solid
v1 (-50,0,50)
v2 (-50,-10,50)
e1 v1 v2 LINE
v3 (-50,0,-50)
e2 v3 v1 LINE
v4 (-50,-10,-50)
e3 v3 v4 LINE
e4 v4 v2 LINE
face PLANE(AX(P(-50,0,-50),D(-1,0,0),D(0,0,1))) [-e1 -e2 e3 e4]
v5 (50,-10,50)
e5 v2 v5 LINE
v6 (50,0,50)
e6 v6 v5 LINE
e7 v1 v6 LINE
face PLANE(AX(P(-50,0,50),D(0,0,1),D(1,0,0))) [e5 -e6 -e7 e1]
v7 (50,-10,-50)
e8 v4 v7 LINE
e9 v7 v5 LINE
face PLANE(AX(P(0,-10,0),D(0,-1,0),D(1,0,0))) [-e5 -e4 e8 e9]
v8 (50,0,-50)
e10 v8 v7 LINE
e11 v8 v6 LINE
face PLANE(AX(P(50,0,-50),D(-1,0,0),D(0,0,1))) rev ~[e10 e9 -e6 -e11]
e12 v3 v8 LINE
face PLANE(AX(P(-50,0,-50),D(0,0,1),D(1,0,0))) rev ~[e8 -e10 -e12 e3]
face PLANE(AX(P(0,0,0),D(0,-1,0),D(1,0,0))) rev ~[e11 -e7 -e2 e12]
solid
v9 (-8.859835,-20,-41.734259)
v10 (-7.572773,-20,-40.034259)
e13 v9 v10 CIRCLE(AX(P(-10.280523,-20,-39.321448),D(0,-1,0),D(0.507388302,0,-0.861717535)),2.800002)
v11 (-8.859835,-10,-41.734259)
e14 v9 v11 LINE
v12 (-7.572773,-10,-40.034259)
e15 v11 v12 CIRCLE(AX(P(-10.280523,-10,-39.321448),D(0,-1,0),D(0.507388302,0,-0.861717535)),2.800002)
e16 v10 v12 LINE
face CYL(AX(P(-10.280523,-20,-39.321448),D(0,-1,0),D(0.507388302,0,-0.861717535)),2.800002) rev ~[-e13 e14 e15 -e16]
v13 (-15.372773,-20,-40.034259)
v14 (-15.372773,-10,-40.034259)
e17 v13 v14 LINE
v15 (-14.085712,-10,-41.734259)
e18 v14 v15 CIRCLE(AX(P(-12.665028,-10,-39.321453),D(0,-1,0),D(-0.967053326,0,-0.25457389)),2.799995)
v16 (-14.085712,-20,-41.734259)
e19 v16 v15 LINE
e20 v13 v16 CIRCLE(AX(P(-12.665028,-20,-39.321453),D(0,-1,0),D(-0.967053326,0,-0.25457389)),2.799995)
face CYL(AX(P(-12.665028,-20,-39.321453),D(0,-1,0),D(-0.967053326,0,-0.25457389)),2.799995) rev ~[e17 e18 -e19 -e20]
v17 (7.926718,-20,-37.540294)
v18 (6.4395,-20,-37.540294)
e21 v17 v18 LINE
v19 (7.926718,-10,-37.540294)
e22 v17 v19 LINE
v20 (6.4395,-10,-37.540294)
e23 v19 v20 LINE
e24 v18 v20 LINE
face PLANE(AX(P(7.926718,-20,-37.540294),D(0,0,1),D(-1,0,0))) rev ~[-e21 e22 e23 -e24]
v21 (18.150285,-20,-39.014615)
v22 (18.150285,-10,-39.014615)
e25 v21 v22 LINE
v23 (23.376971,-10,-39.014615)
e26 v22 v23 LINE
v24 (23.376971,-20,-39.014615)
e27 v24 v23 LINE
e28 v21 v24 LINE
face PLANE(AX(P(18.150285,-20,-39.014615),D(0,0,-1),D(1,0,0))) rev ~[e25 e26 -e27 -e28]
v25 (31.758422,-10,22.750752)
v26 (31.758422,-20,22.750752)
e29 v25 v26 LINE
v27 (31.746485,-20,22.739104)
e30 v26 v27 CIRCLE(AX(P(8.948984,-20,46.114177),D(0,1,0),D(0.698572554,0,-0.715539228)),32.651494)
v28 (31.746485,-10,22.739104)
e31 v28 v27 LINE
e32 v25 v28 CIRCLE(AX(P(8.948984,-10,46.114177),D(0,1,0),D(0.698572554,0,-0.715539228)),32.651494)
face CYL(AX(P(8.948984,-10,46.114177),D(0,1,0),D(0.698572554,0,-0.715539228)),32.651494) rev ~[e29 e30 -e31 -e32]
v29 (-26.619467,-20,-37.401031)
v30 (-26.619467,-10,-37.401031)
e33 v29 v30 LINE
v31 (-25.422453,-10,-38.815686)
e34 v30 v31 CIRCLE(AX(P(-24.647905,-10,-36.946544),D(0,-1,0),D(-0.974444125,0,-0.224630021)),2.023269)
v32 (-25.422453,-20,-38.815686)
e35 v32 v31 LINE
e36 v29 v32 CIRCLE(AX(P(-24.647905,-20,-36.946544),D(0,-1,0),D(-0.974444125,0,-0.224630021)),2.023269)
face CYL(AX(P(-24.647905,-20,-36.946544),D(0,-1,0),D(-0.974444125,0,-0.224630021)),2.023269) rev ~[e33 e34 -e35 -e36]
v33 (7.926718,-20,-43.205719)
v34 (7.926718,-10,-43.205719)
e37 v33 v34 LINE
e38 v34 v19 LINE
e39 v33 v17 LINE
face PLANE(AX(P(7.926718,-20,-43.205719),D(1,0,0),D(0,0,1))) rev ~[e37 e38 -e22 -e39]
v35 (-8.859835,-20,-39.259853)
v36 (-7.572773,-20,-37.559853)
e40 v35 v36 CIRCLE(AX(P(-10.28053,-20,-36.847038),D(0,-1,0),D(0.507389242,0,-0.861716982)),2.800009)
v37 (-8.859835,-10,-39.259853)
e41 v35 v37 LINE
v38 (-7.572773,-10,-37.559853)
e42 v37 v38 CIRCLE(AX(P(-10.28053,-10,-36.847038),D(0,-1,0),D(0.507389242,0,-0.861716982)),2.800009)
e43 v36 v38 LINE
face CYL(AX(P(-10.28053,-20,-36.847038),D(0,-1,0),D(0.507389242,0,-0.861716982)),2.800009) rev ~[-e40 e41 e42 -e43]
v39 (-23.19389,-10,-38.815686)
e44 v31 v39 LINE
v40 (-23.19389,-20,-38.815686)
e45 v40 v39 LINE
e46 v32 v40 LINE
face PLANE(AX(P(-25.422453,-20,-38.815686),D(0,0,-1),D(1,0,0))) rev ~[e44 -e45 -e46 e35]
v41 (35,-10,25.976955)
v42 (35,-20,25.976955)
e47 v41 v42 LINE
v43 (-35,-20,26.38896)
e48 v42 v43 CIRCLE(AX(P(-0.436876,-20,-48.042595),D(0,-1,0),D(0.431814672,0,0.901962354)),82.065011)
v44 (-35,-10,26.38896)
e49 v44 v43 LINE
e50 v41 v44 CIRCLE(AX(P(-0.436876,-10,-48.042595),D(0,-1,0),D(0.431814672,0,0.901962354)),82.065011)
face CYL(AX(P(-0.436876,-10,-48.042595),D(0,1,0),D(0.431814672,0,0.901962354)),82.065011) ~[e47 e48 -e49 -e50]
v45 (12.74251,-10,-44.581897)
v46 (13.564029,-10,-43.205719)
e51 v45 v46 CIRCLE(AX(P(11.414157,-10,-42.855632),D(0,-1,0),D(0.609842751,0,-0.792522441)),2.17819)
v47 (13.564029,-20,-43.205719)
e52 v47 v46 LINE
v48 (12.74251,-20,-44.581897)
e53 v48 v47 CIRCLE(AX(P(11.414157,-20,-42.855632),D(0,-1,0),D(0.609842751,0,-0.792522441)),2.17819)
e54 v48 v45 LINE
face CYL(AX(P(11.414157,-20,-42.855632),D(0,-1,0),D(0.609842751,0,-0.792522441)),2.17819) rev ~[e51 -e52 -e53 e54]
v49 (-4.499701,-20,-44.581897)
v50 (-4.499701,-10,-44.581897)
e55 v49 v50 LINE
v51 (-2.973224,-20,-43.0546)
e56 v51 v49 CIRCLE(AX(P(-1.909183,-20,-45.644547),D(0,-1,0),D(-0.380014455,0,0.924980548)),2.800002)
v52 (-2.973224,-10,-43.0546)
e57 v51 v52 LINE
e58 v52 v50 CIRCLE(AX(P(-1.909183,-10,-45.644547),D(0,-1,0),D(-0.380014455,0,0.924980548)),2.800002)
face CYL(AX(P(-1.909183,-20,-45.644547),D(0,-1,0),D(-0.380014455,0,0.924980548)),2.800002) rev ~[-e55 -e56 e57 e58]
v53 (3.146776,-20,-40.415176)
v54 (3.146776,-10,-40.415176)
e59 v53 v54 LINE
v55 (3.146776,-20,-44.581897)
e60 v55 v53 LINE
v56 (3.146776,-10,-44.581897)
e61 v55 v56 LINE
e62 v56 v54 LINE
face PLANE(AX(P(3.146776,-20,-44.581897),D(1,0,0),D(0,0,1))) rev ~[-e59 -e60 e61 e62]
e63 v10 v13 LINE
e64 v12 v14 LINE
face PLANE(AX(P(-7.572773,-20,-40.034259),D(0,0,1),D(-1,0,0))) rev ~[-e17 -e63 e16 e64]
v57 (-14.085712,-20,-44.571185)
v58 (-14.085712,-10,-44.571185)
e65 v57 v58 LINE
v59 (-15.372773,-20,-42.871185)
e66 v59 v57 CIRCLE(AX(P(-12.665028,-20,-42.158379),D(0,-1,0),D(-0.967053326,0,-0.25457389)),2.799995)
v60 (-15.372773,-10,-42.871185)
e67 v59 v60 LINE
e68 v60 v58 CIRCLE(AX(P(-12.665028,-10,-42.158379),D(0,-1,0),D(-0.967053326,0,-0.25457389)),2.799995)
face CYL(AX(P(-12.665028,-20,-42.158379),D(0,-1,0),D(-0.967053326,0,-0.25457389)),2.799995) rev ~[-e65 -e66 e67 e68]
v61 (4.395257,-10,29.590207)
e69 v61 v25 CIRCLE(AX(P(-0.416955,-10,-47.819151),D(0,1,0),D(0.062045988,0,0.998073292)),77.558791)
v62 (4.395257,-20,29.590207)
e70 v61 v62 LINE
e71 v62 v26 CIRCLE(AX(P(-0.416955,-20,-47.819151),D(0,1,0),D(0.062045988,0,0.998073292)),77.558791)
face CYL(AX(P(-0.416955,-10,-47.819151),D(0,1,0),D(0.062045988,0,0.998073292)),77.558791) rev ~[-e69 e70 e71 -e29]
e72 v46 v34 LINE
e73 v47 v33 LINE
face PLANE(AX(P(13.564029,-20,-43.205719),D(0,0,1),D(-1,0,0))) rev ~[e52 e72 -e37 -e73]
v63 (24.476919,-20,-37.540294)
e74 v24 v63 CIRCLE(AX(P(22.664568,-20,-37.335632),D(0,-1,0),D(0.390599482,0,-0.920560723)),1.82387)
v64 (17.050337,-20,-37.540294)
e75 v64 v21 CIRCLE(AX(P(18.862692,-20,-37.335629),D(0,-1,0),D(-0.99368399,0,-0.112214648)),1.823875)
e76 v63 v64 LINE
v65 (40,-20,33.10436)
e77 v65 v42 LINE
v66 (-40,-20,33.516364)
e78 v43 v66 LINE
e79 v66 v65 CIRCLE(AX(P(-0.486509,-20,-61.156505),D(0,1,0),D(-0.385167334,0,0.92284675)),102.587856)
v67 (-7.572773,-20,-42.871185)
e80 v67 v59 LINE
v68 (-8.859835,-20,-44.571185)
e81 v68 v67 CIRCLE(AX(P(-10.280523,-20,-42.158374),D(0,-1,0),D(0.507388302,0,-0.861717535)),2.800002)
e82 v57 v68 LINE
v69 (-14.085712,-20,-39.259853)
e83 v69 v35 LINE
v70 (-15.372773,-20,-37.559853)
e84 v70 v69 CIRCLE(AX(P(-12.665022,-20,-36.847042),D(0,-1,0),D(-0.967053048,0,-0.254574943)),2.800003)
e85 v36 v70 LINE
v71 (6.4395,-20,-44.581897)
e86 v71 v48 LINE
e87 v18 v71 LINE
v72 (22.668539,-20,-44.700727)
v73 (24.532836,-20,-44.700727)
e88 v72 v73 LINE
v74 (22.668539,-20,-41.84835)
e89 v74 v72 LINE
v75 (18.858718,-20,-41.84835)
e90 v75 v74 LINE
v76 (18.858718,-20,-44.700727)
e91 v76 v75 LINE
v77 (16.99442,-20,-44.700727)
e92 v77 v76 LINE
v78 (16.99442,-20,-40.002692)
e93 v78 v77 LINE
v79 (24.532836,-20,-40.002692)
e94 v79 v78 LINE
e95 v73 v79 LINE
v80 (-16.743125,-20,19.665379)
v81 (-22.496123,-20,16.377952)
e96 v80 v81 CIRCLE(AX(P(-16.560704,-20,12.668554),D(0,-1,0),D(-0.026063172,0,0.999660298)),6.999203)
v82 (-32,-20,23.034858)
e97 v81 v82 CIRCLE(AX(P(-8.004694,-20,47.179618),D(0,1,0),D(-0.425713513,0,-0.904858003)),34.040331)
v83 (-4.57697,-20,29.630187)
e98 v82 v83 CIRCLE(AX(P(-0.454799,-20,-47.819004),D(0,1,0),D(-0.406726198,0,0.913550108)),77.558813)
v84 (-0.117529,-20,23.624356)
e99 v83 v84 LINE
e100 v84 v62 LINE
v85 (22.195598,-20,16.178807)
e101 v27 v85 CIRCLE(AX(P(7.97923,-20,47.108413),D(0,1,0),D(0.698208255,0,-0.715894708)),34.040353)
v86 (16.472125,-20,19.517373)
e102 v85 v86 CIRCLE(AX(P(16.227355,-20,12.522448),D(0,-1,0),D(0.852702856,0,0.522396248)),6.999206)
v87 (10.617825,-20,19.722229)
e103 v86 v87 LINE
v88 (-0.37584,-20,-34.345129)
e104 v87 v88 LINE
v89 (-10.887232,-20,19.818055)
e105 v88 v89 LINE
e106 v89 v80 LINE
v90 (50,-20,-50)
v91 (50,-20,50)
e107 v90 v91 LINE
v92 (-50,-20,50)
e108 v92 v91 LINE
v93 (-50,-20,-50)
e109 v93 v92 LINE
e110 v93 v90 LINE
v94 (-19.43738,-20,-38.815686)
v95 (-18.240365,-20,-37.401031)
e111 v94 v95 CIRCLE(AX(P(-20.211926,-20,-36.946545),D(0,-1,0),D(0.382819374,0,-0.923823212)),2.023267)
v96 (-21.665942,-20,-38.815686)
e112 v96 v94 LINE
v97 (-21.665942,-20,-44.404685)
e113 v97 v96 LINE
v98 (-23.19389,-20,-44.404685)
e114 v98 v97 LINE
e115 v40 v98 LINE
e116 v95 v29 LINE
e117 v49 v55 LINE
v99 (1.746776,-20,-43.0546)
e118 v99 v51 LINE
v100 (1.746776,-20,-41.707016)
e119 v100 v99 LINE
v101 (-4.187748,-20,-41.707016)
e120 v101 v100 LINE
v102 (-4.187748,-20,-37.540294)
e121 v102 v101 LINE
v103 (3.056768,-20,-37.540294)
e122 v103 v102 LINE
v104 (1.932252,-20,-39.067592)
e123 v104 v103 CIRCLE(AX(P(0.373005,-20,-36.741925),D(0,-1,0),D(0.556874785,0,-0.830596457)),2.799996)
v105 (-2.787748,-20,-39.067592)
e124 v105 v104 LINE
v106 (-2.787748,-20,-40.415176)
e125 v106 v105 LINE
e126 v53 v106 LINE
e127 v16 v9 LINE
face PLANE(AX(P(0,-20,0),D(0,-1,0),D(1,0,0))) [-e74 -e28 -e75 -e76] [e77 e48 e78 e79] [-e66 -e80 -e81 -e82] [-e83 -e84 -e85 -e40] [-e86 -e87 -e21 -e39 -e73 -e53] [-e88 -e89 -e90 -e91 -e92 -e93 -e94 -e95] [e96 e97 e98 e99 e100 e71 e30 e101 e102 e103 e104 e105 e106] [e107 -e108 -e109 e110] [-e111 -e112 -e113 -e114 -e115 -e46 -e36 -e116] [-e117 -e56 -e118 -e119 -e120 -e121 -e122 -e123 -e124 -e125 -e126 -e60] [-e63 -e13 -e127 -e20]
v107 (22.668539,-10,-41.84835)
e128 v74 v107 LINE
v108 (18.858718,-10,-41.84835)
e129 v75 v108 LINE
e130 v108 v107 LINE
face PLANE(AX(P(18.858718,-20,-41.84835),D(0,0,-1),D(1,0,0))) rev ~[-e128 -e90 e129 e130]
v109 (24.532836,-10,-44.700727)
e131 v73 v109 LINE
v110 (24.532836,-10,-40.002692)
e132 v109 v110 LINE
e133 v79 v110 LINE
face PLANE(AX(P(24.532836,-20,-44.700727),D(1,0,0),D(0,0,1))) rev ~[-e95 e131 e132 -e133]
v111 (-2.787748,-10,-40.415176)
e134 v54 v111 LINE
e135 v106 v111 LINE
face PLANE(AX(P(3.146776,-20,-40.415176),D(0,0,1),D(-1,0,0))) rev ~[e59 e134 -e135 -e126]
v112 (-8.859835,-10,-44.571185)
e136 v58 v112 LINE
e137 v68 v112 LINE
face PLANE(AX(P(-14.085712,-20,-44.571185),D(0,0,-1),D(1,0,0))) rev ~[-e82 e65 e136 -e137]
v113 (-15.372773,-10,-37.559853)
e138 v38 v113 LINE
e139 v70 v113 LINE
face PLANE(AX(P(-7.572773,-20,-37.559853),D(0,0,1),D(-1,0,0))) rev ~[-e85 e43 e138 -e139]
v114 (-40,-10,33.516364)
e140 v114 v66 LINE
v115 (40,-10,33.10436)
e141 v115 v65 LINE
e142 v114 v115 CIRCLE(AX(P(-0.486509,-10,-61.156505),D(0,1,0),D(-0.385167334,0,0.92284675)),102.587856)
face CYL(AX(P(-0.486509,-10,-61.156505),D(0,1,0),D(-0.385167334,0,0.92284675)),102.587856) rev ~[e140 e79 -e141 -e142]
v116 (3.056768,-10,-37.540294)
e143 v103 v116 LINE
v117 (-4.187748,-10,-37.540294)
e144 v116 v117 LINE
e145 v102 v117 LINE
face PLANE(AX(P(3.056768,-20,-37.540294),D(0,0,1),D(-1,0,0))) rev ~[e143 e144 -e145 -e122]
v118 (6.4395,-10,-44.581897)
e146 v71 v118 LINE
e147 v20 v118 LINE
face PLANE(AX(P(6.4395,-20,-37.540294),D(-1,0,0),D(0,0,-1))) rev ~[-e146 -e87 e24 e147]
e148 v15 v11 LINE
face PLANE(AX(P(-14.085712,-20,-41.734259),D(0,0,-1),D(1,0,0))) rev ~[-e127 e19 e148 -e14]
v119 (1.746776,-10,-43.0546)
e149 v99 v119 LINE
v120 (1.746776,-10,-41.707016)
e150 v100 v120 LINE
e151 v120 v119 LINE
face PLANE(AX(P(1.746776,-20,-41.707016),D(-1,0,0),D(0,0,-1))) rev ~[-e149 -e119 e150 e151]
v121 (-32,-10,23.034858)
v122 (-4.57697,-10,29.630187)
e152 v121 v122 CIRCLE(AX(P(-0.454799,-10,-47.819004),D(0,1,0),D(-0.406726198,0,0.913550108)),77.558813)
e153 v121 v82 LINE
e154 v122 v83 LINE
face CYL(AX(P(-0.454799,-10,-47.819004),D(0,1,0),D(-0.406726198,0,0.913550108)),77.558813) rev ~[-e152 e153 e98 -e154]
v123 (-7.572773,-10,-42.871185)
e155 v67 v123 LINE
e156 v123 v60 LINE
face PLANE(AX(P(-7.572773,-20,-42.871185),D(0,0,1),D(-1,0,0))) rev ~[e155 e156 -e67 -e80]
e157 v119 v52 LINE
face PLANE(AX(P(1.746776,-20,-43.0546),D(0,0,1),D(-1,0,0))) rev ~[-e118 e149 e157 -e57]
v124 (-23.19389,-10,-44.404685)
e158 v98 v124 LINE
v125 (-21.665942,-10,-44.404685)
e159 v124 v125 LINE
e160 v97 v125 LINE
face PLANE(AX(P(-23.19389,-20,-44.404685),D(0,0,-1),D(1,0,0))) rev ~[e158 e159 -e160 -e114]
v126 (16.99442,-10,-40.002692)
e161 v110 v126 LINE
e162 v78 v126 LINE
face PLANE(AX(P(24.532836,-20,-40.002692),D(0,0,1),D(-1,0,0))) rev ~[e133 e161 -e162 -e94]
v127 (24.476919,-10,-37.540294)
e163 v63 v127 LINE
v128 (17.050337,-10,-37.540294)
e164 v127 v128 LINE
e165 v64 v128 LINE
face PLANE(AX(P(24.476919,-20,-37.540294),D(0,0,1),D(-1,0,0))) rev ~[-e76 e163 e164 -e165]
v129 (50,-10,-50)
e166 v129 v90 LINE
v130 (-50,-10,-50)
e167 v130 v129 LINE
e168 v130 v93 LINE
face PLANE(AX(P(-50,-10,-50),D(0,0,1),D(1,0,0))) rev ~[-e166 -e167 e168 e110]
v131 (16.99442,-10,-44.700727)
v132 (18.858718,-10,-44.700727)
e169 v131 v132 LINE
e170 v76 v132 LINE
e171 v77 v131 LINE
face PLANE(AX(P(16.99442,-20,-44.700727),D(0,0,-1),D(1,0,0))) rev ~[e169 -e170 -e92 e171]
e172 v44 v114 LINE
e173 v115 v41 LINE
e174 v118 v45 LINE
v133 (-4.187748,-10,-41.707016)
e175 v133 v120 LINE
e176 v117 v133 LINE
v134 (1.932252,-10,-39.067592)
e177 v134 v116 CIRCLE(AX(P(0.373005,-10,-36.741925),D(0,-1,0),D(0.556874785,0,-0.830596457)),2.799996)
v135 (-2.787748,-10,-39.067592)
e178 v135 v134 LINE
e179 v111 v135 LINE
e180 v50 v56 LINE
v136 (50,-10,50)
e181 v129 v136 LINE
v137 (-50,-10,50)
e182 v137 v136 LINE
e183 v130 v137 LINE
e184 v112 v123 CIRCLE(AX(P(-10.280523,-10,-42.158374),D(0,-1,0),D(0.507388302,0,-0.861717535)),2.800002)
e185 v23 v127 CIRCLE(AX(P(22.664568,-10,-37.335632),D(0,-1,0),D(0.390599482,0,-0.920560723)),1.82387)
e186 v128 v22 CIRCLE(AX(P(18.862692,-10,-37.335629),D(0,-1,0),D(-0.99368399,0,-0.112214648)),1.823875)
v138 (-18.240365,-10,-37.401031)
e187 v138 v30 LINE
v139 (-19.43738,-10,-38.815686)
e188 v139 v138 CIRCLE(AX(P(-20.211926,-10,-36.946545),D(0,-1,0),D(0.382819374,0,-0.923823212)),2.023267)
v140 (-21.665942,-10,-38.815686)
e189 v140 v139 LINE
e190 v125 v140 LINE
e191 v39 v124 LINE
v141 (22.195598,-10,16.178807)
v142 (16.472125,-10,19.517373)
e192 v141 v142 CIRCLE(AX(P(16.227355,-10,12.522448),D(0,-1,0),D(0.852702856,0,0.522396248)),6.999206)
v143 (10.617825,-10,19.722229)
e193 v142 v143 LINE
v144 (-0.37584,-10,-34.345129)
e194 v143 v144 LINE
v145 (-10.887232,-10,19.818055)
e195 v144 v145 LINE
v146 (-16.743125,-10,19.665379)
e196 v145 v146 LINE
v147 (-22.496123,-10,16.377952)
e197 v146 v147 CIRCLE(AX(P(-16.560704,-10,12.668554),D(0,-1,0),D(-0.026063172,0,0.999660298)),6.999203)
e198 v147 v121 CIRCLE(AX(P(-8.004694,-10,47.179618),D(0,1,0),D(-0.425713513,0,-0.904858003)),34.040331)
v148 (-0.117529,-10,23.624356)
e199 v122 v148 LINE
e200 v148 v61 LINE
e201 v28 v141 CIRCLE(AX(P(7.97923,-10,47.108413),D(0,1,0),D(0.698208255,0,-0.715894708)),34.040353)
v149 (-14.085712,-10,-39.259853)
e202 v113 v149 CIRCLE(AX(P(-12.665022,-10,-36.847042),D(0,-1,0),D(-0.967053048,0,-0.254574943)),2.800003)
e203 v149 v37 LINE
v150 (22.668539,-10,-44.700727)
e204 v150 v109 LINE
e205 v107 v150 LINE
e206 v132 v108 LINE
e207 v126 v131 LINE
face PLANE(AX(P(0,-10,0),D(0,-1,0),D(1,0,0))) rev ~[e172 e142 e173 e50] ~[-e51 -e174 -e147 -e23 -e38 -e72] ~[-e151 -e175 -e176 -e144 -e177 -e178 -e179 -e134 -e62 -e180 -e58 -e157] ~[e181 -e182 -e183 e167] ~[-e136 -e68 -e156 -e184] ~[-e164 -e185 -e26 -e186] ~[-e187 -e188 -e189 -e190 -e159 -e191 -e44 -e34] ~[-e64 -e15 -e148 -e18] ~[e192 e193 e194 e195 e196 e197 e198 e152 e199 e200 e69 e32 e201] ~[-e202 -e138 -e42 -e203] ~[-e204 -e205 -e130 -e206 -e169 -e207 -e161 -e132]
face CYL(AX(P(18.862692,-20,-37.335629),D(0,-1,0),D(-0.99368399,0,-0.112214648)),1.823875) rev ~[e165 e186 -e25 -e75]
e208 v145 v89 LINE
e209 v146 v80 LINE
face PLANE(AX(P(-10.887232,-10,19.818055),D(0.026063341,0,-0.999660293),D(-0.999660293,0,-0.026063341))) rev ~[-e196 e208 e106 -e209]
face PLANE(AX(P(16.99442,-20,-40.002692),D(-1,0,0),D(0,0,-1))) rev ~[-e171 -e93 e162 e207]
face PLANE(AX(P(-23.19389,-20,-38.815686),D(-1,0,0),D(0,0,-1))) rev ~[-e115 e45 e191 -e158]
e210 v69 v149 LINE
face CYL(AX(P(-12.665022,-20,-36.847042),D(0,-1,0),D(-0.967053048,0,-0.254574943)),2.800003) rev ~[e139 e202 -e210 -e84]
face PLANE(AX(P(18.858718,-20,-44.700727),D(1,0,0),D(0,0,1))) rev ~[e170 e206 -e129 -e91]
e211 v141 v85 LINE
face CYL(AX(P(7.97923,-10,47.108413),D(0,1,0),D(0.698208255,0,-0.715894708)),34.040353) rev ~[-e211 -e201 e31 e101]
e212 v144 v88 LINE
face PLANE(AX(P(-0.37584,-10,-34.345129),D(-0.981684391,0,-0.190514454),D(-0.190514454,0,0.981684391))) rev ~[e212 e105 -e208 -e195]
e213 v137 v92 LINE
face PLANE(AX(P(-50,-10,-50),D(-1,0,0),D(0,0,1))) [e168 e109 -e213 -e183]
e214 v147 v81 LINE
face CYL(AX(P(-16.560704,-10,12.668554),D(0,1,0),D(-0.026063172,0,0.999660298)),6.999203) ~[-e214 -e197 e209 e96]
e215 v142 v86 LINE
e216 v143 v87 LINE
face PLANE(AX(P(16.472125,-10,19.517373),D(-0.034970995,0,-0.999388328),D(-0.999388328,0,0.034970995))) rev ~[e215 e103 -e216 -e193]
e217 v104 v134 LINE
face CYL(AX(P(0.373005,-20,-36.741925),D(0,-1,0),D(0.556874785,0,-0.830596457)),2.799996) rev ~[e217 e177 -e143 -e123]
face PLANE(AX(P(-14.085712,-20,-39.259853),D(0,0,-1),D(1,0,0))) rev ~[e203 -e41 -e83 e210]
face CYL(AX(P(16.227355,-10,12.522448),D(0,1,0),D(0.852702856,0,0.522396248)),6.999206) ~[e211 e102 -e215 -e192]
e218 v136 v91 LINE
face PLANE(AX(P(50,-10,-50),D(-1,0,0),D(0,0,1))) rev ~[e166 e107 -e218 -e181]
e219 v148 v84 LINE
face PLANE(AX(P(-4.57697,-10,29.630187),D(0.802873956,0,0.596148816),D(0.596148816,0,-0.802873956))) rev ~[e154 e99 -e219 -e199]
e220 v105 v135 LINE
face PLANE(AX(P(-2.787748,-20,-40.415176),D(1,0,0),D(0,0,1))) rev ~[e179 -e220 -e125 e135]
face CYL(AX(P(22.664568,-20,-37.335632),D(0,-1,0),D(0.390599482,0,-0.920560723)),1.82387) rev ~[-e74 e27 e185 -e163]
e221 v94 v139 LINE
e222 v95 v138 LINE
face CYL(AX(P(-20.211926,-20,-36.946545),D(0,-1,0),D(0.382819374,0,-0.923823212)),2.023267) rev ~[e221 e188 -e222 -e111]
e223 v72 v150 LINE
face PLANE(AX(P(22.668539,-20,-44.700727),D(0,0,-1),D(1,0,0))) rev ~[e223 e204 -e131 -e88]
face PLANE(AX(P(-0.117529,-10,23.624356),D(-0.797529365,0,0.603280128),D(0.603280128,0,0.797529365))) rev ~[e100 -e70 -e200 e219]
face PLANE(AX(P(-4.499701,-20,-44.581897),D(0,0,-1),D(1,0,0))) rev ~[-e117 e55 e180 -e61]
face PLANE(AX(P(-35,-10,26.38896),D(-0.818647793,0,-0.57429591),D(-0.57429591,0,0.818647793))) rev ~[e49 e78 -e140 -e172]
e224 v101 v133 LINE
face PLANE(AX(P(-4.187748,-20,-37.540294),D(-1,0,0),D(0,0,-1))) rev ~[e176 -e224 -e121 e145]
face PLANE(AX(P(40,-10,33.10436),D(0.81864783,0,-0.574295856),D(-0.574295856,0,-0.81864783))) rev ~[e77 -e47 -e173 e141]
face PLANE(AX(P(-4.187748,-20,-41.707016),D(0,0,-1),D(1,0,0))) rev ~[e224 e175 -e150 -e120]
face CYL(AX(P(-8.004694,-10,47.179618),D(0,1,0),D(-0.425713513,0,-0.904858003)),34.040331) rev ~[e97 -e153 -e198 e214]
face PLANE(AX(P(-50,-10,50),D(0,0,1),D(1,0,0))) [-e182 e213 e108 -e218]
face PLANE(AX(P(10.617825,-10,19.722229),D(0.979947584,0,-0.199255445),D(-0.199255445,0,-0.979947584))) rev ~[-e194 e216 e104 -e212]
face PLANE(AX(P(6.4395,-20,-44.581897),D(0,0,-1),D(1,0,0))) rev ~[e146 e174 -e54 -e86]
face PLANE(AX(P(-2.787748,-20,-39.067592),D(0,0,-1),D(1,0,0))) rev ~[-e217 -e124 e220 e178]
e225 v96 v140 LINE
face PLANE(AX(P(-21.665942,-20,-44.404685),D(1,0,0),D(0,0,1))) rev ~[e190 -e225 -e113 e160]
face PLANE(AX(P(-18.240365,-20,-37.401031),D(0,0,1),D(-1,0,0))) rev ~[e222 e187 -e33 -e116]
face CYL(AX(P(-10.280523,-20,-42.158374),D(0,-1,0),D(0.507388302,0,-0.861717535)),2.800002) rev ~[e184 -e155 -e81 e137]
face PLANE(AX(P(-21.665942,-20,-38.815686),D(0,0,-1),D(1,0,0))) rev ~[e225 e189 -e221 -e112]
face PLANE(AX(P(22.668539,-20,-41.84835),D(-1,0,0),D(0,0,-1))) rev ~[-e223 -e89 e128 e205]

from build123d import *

# Parameters (mm, degrees)
F0_W     = 100
F0_H     = 100
F1_DEPTH = 10
F2_W     = 100
F2_H     = 100
F3_DEPTH = 10
F5_DEPTH = 10


with BuildPart() as f1:
    # F0 (on Front) → F1 (new body)
    with BuildSketch(Plane.XZ):
        Rectangle(F0_W, F0_H)
    extrude(amount=F1_DEPTH)


with BuildPart() as f3:
    # F2 (on face) → F3 (new body)
    with BuildSketch(Plane.XZ.offset(10)):
        Rectangle(F2_W, F2_H)
        with BuildLine():
            ThreePointArc((-22.496123, 16.377952), (-27.533795, 19.298471), (-32, 23.034858))
            ThreePointArc((-32, 23.034858), (-18.590811, 27.58958), (-4.57697, 29.630187))
            Line((-4.57697, 29.630187), (-0.117529, 23.624356))
            Line((-0.117529, 23.624356), (4.395257, 29.590207))
            ThreePointArc((4.395257, 29.590207), (18.390357, 27.424793), (31.758422, 22.750752))
            ThreePointArc((31.758422, 22.750752), (31.752454, 22.744927), (31.746485, 22.739104))
            ThreePointArc((31.746485, 22.739104), (27.252223, 19.049593), (22.195598, 16.178807))
            ThreePointArc((22.195598, 16.178807), (19.753952, 18.568273), (16.472125, 19.517373))
            Line((16.472125, 19.517373), (10.617825, 19.722229))
            Line((10.617825, 19.722229), (-0.37584, -34.345129))
            Line((-0.37584, -34.345129), (-10.887232, 19.818055))
            Line((-10.887232, 19.818055), (-16.743125, 19.665379))
            ThreePointArc((-16.743125, 19.665379), (-20.03328, 18.745564), (-22.496123, 16.377952))
        make_face(mode=Mode.SUBTRACT)
        with BuildLine():
            ThreePointArc((-40, 33.516364), (0.041817, 41.42999), (40, 33.10436))
            Line((40, 33.10436), (35, 25.976955))
            ThreePointArc((35, 25.976955), (0.046133, 34.020994), (-35, 26.38896))
            Line((-35, 26.38896), (-40, 33.516364))
        make_face(mode=Mode.SUBTRACT)
    extrude(amount=F3_DEPTH)

    # F4 (on face) → F5 (cut)
    with BuildSketch(Plane.XZ.offset(20)):
        with BuildLine():
            Line((-18.240365, -37.401031), (-26.619467, -37.401031))
            ThreePointArc((-26.619467, -37.401031), (-26.192441, -38.253458), (-25.422453, -38.815686))
            Line((-25.422453, -38.815686), (-23.19389, -38.815686))
            Line((-23.19389, -38.815686), (-23.19389, -44.404685))
            Line((-23.19389, -44.404685), (-22.429916, -44.404685))
            Line((-22.429916, -44.404685), (-21.665942, -44.404685))
            Line((-21.665942, -44.404685), (-21.665942, -38.815686))
            Line((-21.665942, -38.815686), (-19.43738, -38.815686))
            ThreePointArc((-19.43738, -38.815686), (-18.667391, -38.253458), (-18.240365, -37.401031))
        make_face()
        with BuildLine():
            Line((-11.472773, -37.559853), (-15.372773, -37.559853))
            ThreePointArc((-15.372773, -37.559853), (-14.897399, -38.537163), (-14.085712, -39.259853))
            Line((-14.085712, -39.259853), (-11.472773, -39.259853))
            Line((-11.472773, -39.259853), (-8.859835, -39.259853))
            ThreePointArc((-8.859835, -39.259853), (-8.048148, -38.537163), (-7.572773, -37.559853))
            Line((-7.572773, -37.559853), (-11.472773, -37.559853))
        make_face()
        with BuildLine():
            Line((-11.472773, -40.034259), (-15.372773, -40.034259))
            ThreePointArc((-15.372773, -40.034259), (-14.897399, -41.01157), (-14.085712, -41.734259))
            Line((-14.085712, -41.734259), (-11.472773, -41.734259))
            Line((-11.472773, -41.734259), (-8.859835, -41.734259))
            ThreePointArc((-8.859835, -41.734259), (-8.048148, -41.01157), (-7.572773, -40.034259))
            Line((-7.572773, -40.034259), (-11.472773, -40.034259))
        make_face()
        with BuildLine():
            Line((-11.472773, -42.871185), (-15.372773, -42.871185))
            ThreePointArc((-15.372773, -42.871185), (-14.897399, -43.848496), (-14.085712, -44.571185))
            Line((-14.085712, -44.571185), (-11.472773, -44.571185))
            Line((-11.472773, -44.571185), (-8.859835, -44.571185))
            ThreePointArc((-8.859835, -44.571185), (-8.048148, -43.848496), (-7.572773, -42.871185))
            Line((-7.572773, -42.871185), (-11.472773, -42.871185))
        make_face()
        with BuildLine():
            ThreePointArc((1.932252, -39.067592), (2.627765, -38.402056), (3.056768, -37.540294))
            Line((3.056768, -37.540294), (-4.187748, -37.540294))
            Line((-4.187748, -37.540294), (-4.187748, -41.707016))
            Line((-4.187748, -41.707016), (1.746776, -41.707016))
            Line((1.746776, -41.707016), (1.746776, -43.0546))
            Line((1.746776, -43.0546), (-2.973224, -43.0546))
            ThreePointArc((-2.973224, -43.0546), (-3.889615, -43.665179), (-4.499701, -44.581897))
            Line((-4.499701, -44.581897), (3.146776, -44.581897))
            Line((3.146776, -44.581897), (3.146776, -40.415176))
            Line((3.146776, -40.415176), (-2.787748, -40.415176))
            Line((-2.787748, -40.415176), (-2.787748, -39.067592))
            Line((-2.787748, -39.067592), (1.932252, -39.067592))
        make_face()
        with BuildLine():
            Line((7.926718, -37.540294), (6.4395, -37.540294))
            Line((6.4395, -37.540294), (6.4395, -44.581897))
            Line((6.4395, -44.581897), (12.74251, -44.581897))
            ThreePointArc((12.74251, -44.581897), (13.284445, -43.972115), (13.564029, -43.205719))
            Line((13.564029, -43.205719), (7.926718, -43.205719))
            Line((7.926718, -43.205719), (7.926718, -37.540294))
        make_face()
        Polygon((24.532836, -40.002692), (20.763628, -40.002692), (16.99442, -40.002692), (16.99442, -44.700727), (18.858718, -44.700727), (18.858718, -41.84835), (20.763628, -41.84835), (22.668539, -41.84835), (22.668539, -44.700727), (24.532836, -44.700727), align=None)
        with BuildLine():
            Line((20.763628, -37.540294), (17.050337, -37.540294))
            ThreePointArc((17.050337, -37.540294), (17.40084, -38.426274), (18.150285, -39.014615))
            Line((18.150285, -39.014615), (20.763628, -39.014615))
            Line((20.763628, -39.014615), (23.376971, -39.014615))
            ThreePointArc((23.376971, -39.014615), (24.126417, -38.426274), (24.476919, -37.540294))
            Line((24.476919, -37.540294), (20.763628, -37.540294))
        make_face()
    extrude(amount=-F5_DEPTH, mode=Mode.SUBTRACT)


solid = Compound([f1.part, f3.part])
